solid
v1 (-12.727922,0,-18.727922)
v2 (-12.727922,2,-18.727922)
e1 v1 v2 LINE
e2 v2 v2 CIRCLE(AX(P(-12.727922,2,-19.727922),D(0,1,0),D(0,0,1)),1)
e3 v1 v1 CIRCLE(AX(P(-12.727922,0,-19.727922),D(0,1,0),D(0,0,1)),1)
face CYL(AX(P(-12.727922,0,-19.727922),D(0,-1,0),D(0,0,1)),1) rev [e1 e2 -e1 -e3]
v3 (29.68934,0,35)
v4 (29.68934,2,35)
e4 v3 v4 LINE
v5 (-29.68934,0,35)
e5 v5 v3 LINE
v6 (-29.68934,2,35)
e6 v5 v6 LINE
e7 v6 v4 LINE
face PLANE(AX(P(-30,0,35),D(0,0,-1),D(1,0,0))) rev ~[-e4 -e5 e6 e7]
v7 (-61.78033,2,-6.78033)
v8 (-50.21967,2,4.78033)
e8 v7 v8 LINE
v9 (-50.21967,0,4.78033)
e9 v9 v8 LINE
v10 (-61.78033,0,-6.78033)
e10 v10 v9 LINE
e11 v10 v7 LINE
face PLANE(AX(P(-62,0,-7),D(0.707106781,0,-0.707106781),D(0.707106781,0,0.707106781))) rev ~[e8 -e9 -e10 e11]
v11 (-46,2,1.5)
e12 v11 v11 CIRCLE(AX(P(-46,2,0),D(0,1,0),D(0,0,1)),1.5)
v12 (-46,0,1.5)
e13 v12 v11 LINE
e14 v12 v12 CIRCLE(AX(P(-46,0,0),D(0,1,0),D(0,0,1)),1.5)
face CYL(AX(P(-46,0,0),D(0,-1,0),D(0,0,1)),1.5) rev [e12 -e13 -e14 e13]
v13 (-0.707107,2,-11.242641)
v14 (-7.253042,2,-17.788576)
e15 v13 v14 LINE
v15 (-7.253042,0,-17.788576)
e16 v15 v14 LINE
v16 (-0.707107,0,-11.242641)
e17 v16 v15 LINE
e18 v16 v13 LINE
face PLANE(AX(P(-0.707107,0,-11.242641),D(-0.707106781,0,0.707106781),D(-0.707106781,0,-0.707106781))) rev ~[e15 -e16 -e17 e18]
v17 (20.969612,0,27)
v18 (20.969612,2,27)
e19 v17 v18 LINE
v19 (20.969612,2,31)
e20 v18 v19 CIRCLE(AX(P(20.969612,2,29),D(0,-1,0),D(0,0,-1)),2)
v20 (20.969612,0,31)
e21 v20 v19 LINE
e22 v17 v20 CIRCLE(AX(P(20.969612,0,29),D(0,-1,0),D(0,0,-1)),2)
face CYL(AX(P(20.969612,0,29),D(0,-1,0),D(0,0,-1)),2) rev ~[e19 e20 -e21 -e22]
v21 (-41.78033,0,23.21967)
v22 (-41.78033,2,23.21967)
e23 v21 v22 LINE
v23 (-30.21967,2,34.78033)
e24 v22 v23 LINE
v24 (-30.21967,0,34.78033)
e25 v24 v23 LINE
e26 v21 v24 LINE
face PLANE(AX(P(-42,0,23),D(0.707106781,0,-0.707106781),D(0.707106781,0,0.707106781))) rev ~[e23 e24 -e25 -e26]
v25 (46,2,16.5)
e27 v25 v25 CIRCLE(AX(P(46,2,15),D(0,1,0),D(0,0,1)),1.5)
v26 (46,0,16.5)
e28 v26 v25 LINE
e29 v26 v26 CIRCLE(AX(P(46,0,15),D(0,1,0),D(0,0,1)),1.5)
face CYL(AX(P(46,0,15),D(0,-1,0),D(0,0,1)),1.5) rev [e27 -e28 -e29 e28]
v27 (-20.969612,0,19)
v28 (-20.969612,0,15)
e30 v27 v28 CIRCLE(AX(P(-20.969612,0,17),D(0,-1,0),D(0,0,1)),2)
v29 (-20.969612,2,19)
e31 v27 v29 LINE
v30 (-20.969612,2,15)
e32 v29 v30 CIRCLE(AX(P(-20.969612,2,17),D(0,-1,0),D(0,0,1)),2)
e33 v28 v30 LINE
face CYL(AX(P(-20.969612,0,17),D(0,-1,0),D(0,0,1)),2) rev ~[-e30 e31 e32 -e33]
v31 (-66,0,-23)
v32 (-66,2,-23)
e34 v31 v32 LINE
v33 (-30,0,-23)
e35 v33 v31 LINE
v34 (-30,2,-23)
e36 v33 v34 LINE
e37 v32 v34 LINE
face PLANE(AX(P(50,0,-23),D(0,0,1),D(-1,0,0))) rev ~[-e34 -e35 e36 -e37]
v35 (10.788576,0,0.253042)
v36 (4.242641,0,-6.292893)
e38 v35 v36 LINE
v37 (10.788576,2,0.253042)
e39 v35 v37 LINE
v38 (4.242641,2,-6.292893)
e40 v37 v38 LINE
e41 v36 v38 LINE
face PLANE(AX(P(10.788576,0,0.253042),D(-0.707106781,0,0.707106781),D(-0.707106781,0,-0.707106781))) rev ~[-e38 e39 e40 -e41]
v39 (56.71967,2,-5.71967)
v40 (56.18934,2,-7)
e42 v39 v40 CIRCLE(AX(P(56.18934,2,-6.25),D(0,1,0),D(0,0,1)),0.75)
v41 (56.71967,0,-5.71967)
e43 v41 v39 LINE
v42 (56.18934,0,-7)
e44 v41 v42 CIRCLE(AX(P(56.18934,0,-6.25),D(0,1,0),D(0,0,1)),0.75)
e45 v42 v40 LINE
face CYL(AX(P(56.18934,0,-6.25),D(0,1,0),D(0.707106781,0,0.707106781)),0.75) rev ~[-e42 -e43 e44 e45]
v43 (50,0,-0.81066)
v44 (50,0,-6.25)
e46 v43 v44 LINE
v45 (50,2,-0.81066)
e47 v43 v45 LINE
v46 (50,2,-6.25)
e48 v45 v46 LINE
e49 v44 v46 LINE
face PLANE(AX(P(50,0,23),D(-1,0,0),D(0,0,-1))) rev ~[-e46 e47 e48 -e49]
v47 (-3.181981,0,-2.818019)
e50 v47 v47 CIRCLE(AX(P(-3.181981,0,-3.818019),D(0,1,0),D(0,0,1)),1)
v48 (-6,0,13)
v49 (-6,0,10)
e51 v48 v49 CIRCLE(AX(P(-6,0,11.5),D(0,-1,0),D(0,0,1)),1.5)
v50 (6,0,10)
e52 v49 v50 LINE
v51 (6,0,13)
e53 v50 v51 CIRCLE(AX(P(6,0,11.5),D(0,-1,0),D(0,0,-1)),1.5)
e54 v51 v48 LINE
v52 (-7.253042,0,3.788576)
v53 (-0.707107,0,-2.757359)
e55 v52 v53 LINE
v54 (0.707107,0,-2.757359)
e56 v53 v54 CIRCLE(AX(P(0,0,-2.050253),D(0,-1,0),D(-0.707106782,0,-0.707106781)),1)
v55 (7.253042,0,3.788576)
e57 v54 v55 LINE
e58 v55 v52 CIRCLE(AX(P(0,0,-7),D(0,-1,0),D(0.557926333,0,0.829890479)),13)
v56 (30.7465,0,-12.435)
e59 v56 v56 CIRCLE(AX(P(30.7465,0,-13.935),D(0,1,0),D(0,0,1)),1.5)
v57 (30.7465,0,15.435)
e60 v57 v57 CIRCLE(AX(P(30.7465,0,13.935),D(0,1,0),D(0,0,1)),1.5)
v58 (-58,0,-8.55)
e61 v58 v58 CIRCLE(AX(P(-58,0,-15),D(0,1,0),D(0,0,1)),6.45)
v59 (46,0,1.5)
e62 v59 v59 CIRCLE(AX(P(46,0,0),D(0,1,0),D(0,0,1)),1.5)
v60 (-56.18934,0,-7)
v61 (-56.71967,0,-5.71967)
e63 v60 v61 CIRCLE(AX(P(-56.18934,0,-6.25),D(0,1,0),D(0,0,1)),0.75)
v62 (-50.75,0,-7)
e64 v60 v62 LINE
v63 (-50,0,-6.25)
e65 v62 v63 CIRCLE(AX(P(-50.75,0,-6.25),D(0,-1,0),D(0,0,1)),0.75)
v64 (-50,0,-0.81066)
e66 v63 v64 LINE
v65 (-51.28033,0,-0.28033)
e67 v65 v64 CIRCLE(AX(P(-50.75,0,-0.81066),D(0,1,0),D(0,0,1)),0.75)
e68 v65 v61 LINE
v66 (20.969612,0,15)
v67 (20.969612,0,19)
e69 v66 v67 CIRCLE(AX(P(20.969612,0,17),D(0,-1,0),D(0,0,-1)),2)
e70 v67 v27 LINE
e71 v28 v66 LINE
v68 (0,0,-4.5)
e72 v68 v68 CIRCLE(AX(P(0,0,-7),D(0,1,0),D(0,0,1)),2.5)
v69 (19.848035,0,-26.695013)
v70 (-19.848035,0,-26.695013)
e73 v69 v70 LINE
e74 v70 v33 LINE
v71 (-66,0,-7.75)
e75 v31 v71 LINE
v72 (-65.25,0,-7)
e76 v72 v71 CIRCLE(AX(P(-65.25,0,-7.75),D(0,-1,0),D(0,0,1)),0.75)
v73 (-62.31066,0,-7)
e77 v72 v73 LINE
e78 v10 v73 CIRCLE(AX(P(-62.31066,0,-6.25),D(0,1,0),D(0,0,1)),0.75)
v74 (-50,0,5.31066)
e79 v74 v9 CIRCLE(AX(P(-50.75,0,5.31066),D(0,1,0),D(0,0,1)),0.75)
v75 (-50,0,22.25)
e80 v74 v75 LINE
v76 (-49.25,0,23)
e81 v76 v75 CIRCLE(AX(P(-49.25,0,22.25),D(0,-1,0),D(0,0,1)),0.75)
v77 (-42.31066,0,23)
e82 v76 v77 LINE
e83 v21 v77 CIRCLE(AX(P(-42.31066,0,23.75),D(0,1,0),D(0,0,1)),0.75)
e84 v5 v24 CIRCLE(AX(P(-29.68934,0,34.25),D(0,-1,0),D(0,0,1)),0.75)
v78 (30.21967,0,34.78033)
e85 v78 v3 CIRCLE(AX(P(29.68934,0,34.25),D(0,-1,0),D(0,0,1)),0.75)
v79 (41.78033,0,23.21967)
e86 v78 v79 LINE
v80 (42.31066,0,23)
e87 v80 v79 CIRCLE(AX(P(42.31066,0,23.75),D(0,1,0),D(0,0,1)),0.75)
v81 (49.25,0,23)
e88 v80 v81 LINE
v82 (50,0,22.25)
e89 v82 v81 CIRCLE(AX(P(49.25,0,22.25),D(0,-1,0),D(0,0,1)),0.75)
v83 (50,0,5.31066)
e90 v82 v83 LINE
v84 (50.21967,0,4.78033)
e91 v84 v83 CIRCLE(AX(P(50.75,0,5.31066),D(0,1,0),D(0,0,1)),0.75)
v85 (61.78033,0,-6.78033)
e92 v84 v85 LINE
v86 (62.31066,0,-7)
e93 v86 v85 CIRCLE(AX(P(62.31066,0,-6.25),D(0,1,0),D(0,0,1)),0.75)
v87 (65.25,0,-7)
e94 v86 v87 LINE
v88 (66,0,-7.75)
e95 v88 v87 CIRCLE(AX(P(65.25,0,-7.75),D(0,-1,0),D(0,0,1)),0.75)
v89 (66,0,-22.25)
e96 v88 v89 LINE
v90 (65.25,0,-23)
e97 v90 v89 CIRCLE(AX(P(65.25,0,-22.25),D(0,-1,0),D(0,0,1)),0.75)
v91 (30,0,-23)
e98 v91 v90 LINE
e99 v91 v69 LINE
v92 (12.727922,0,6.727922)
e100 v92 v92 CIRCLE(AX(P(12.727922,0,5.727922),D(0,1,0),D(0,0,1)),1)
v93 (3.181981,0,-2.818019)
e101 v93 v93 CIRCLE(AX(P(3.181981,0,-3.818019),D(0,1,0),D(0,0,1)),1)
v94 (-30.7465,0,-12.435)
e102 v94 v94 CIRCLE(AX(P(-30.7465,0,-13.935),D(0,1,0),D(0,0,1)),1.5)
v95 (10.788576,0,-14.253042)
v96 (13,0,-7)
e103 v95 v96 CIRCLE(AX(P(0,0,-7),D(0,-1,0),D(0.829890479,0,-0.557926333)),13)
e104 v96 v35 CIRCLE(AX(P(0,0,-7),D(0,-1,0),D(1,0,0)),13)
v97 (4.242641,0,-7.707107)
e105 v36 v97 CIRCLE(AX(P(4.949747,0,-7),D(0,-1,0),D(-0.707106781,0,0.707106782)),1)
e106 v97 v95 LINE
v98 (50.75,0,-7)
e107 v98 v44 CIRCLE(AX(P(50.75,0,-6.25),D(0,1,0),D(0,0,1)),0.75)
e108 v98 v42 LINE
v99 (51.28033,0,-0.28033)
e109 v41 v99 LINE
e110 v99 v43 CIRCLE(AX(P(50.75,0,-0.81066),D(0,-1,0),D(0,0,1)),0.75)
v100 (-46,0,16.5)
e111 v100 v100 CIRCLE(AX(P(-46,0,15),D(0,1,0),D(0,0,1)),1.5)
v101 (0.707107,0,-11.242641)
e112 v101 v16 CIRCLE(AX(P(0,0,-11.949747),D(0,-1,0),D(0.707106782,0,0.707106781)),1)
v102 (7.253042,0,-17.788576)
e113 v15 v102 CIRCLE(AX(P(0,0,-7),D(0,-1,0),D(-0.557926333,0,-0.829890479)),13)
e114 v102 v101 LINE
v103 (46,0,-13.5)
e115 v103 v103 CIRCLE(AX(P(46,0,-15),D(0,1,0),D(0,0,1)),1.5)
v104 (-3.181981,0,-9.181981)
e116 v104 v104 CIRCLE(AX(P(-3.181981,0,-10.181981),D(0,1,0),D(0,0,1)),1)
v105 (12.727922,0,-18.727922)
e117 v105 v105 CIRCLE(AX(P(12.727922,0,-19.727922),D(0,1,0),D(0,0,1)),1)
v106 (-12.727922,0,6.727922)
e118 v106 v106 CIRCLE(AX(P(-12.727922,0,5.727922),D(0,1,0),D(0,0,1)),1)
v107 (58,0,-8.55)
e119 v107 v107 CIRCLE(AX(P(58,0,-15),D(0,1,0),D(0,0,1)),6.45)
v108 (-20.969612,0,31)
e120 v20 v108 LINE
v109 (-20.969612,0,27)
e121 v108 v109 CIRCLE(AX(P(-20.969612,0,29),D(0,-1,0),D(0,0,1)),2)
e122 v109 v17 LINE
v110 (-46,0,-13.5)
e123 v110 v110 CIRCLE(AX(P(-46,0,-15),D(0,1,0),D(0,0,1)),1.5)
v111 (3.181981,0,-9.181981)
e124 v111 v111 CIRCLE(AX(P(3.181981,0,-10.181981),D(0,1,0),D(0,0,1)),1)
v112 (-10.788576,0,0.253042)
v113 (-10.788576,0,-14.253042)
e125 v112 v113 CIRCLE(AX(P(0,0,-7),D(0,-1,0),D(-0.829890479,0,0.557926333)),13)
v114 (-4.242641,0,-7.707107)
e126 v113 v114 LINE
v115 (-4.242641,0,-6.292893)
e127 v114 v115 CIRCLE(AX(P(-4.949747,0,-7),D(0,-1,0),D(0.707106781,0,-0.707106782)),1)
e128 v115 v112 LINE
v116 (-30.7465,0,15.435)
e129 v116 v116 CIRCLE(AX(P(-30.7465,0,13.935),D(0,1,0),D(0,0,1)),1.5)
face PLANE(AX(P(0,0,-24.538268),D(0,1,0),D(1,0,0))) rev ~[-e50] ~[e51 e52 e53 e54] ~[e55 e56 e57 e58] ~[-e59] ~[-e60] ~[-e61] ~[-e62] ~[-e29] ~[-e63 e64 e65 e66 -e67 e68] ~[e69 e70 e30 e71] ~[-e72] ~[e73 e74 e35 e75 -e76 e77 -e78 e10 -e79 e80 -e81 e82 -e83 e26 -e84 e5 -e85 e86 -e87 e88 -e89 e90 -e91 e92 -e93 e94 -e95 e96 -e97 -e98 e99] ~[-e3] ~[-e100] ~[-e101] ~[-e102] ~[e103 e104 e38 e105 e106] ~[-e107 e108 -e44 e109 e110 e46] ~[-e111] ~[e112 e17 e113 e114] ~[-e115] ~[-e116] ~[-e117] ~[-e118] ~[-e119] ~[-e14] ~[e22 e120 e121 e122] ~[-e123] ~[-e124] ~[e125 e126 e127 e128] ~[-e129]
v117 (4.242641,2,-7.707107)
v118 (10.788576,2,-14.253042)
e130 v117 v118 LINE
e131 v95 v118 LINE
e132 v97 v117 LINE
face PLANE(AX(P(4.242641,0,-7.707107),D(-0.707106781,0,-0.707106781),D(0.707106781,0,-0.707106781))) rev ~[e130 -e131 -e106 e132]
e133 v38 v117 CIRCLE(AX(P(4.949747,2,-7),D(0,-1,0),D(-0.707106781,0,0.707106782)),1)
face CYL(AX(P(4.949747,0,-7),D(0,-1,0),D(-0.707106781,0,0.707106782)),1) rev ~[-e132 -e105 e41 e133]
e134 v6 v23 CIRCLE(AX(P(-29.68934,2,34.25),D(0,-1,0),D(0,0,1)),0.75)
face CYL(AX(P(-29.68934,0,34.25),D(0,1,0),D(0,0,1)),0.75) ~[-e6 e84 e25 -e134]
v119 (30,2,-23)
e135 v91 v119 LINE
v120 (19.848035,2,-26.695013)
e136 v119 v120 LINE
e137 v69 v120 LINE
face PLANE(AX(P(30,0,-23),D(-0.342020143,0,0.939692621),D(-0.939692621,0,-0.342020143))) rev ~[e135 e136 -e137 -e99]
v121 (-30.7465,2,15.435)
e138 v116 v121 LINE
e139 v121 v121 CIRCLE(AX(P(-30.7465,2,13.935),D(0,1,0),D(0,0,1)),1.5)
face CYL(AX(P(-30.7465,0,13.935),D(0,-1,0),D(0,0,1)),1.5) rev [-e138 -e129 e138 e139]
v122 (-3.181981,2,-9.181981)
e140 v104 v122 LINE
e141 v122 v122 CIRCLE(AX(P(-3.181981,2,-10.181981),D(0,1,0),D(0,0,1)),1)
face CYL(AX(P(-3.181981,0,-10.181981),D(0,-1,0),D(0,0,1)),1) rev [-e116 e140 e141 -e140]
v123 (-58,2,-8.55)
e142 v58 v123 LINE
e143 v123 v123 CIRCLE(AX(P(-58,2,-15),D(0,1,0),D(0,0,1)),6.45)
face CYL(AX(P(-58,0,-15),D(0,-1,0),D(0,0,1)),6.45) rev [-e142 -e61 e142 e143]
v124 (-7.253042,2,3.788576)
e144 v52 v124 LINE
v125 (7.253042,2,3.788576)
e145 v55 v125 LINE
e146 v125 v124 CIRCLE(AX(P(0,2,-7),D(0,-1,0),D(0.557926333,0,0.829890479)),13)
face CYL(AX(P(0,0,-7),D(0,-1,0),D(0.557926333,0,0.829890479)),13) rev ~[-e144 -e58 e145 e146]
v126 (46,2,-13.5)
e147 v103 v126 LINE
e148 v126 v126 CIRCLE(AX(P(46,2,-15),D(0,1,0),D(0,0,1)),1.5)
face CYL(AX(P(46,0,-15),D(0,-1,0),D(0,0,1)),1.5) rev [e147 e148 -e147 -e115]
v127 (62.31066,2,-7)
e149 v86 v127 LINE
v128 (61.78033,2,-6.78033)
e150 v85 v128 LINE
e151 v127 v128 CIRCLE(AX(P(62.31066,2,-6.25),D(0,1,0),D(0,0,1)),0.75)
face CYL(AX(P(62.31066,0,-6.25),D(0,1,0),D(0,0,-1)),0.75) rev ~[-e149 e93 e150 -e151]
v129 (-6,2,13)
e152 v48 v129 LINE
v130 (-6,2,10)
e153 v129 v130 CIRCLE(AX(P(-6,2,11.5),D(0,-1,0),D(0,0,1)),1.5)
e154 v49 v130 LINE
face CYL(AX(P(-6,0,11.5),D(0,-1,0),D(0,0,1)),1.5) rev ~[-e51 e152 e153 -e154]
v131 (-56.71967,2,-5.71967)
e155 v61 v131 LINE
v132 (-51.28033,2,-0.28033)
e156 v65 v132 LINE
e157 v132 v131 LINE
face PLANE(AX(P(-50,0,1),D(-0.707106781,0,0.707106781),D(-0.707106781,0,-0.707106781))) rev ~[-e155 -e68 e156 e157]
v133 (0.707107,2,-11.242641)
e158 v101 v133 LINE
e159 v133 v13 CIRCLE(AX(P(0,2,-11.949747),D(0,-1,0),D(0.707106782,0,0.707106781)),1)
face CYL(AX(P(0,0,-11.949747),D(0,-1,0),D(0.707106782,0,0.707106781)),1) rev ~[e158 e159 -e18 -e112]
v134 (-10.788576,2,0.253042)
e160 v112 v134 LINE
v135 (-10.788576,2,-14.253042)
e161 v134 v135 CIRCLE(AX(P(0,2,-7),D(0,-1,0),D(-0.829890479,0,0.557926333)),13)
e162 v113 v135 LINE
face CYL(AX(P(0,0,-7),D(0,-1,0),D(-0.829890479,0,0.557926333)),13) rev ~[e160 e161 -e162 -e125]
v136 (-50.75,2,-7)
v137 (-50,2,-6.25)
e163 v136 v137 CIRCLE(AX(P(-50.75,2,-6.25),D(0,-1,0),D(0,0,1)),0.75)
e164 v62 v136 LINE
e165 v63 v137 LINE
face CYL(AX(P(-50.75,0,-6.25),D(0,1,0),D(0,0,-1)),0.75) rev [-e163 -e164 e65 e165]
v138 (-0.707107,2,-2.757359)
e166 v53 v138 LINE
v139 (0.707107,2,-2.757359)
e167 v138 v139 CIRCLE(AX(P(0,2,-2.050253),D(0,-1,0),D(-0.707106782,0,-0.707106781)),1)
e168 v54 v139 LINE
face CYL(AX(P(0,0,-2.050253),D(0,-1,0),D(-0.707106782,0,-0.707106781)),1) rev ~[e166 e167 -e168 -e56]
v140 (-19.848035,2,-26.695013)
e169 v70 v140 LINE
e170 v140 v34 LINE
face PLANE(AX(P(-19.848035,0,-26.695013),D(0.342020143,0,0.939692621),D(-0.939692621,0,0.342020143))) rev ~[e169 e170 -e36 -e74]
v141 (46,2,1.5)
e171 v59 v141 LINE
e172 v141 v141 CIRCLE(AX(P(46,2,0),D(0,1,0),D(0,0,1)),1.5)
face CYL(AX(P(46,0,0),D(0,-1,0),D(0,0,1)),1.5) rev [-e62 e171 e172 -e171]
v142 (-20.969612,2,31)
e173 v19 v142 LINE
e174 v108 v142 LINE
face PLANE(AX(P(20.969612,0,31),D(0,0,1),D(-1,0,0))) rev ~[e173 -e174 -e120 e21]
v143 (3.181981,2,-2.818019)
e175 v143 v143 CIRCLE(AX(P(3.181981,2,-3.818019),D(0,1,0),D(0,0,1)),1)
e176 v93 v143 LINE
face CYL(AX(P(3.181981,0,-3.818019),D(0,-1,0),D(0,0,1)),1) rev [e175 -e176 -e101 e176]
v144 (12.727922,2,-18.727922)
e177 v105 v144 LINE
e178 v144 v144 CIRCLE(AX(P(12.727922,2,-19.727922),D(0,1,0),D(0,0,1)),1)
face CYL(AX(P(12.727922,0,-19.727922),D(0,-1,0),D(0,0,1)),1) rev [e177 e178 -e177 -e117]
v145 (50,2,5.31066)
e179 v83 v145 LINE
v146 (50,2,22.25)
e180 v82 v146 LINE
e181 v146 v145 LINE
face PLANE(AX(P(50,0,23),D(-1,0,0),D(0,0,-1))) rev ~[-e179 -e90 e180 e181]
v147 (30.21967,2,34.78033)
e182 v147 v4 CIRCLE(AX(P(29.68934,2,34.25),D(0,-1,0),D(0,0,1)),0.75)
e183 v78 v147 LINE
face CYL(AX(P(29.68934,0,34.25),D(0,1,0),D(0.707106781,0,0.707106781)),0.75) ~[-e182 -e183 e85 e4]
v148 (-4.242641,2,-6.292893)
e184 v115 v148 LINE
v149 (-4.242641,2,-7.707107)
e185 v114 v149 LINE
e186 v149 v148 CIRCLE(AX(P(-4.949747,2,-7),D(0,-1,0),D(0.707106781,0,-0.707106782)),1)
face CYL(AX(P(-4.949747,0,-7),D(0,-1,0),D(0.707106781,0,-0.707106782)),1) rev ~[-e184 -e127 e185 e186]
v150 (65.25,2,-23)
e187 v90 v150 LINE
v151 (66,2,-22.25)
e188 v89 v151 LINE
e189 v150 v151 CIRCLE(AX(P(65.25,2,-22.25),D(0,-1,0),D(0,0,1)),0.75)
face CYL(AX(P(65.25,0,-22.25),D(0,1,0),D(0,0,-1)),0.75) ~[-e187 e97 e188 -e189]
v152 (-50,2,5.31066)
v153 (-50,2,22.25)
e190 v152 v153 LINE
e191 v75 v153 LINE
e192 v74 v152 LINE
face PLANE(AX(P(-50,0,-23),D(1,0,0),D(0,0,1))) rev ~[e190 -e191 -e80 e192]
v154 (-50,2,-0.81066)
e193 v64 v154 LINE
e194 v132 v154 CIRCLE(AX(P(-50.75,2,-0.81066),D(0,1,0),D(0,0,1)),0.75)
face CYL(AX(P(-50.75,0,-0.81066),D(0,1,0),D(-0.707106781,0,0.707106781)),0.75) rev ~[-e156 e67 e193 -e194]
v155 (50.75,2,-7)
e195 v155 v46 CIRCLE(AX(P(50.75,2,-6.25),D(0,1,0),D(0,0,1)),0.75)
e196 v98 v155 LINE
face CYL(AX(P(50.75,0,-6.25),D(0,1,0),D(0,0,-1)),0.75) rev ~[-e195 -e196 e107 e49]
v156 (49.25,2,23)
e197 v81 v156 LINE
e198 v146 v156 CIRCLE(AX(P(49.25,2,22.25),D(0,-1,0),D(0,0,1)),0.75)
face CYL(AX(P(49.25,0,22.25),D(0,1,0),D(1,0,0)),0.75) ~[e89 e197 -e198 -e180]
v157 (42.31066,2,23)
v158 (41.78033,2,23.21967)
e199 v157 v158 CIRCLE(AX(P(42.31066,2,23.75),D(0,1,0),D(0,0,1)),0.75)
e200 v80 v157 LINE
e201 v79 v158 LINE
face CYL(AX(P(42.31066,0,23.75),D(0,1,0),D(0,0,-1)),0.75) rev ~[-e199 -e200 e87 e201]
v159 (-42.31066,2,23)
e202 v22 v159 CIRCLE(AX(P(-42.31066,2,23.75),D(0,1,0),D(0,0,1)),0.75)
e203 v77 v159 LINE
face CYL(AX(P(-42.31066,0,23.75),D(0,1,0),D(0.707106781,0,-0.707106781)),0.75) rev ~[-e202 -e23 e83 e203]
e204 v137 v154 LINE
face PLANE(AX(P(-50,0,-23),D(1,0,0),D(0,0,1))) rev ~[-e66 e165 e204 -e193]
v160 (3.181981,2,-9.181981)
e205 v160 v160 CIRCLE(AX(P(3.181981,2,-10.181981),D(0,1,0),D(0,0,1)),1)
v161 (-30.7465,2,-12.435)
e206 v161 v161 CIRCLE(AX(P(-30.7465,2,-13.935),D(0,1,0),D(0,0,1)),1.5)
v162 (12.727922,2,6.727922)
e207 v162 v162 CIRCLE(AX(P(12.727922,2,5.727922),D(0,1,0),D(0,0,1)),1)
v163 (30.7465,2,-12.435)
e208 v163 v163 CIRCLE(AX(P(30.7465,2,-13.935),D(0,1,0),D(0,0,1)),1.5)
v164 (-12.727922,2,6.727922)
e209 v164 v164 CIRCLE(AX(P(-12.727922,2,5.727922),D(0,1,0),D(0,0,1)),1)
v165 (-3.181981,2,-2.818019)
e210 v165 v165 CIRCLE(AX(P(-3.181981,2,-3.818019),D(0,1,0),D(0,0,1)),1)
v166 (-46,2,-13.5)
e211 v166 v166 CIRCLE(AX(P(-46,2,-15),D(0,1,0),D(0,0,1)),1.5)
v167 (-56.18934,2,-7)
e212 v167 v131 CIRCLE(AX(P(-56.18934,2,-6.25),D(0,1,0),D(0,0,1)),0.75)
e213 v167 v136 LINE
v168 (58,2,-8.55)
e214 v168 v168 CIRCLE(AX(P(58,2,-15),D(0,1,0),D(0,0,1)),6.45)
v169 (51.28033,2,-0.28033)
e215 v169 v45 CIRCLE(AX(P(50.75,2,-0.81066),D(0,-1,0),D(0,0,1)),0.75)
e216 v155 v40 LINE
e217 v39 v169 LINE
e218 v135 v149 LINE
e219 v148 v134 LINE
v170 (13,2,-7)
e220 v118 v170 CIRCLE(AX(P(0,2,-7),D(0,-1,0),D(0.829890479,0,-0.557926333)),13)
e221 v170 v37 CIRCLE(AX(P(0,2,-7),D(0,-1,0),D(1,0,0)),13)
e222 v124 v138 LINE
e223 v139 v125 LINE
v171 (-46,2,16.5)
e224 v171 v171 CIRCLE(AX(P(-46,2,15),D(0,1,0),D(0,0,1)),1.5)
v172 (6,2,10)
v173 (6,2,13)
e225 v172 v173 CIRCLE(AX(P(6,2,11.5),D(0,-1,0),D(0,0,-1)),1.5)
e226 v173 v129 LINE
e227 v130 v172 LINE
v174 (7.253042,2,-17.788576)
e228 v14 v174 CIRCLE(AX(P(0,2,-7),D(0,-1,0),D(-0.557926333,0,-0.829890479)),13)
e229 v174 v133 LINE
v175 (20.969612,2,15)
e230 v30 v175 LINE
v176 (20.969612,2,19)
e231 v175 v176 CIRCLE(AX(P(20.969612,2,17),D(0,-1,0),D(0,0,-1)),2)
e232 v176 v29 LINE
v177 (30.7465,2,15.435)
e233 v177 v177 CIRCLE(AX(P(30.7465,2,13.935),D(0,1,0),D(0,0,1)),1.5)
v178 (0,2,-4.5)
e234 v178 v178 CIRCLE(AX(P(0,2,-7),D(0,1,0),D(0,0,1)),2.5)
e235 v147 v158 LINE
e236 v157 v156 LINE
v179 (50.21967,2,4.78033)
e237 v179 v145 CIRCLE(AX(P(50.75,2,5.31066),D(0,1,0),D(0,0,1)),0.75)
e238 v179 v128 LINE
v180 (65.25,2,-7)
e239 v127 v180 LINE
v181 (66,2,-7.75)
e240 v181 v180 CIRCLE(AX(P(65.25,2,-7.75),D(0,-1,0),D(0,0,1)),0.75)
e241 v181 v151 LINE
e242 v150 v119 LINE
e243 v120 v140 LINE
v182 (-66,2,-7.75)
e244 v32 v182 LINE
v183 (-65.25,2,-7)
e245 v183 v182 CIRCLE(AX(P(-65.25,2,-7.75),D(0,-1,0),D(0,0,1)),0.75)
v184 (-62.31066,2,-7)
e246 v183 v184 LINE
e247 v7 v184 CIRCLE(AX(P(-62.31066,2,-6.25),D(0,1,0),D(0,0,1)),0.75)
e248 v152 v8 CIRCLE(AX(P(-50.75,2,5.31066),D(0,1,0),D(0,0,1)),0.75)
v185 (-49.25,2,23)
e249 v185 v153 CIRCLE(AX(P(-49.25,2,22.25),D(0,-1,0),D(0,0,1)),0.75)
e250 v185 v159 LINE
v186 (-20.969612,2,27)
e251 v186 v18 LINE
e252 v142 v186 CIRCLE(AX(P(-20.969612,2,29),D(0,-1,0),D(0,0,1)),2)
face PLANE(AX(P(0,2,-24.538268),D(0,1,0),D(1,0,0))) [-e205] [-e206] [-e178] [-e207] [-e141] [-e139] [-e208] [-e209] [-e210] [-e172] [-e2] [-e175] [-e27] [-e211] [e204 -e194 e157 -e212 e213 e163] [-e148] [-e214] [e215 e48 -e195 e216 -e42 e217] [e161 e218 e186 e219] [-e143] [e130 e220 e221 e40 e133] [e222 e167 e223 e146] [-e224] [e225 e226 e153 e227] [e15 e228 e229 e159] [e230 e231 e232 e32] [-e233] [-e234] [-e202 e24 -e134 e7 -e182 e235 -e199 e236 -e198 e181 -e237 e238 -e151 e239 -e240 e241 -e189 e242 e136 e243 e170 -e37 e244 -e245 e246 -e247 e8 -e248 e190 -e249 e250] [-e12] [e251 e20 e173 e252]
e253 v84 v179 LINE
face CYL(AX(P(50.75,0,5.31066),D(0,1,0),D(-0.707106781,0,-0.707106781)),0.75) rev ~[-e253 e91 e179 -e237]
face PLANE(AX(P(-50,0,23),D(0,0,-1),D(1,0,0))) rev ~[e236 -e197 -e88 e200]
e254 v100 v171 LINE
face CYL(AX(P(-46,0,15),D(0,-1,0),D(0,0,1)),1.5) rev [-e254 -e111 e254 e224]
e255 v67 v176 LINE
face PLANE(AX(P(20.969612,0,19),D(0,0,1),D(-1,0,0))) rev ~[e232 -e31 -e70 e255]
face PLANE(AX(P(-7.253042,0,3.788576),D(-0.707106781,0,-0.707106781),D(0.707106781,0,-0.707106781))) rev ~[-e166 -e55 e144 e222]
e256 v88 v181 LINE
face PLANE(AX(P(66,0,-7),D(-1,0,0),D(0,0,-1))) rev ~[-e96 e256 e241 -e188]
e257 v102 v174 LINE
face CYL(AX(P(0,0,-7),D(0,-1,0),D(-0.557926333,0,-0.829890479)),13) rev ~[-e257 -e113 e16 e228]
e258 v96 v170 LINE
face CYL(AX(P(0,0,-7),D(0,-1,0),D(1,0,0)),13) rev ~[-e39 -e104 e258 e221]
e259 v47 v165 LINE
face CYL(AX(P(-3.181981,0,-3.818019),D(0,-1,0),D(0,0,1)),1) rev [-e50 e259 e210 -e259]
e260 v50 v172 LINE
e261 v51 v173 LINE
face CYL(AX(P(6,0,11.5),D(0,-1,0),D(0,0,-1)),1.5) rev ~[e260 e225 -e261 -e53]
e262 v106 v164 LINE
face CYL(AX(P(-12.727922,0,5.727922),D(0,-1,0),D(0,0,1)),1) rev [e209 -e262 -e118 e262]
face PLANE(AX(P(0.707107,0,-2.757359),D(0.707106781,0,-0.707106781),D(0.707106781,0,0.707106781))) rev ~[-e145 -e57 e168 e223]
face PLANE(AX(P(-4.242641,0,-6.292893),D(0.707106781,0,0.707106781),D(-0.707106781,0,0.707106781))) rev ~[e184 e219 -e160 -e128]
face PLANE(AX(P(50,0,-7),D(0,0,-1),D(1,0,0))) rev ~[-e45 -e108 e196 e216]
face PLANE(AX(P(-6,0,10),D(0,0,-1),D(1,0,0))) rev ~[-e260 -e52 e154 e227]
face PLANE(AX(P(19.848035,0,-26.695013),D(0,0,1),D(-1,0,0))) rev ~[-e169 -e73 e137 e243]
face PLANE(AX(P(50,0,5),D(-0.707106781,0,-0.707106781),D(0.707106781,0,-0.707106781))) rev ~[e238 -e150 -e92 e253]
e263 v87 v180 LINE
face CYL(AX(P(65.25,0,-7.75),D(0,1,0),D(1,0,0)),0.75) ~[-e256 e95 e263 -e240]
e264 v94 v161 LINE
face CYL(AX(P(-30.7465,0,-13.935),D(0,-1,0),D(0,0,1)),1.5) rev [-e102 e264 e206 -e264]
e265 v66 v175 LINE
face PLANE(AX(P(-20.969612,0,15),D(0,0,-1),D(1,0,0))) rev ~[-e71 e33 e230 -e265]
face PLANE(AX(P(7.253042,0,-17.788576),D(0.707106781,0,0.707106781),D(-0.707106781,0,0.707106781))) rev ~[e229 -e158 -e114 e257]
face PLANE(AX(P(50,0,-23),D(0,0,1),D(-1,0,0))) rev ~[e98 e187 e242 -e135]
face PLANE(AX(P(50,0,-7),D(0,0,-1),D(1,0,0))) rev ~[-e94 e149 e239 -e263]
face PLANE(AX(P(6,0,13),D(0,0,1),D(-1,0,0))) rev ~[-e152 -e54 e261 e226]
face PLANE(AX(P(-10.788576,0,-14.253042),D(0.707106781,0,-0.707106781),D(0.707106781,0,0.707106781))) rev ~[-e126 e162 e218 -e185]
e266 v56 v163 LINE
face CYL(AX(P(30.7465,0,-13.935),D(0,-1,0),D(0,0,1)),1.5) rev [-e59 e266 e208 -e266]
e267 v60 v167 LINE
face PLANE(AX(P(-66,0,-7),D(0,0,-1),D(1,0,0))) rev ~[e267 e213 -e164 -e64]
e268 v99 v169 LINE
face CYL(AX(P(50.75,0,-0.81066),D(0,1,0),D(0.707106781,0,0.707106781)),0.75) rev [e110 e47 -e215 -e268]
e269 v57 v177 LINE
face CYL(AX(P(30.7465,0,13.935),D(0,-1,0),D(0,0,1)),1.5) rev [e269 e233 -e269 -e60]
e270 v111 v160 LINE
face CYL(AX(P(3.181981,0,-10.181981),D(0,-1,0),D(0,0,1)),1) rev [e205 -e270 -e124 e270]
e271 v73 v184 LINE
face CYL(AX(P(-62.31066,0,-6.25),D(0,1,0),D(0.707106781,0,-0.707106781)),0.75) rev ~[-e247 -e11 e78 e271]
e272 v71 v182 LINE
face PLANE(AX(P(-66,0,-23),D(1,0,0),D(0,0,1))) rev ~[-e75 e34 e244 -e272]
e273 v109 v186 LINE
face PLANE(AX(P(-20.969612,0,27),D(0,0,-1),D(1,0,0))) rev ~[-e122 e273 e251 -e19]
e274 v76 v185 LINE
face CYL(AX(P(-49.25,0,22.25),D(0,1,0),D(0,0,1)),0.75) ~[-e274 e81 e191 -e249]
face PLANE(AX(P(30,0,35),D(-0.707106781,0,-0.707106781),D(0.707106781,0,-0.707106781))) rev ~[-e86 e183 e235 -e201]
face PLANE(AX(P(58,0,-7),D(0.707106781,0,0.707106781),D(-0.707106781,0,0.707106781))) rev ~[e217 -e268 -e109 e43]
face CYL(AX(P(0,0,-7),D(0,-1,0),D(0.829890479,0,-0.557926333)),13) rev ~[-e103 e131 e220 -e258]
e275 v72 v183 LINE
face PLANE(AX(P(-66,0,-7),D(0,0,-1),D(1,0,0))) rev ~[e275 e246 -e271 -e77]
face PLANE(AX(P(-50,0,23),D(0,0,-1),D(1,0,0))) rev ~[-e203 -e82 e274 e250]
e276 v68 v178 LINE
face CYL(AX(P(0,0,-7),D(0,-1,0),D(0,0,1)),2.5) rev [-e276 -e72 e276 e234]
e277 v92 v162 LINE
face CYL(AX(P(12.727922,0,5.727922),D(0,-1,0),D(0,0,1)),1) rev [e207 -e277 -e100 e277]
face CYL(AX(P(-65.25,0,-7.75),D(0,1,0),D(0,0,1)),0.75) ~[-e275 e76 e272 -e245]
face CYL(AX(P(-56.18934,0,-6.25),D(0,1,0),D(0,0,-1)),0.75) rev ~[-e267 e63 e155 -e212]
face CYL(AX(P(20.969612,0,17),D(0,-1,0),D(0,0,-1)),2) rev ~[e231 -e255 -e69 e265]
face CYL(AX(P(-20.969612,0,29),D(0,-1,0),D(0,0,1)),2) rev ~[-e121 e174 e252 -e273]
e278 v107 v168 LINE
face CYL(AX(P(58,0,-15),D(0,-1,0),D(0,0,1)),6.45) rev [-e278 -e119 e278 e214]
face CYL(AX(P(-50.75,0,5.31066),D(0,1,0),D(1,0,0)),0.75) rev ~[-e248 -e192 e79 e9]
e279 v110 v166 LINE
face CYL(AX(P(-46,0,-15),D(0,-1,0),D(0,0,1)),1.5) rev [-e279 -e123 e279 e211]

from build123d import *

# Parameters (mm, degrees)
SKETCH_1_R      = 1.5
SKETCH_1_R_2    = 1
SKETCH_1_R_3    = 15
SKETCH_1_R_4    = 2.5
SKETCH_1_R_5    = 6.45
EXTRUDE_1_DEPTH = 2
FILLET_1_R      = 0.75


with BuildPart() as part:
    # 草图1 → 凸台-拉伸1 (new body)
    # profile 1 of 11: a face of its own
    with BuildSketch(Plane(origin=(0, 0, 0), x_dir=(1, 0, 0), z_dir=(0, 1, 0))):
        Polygon((-19.848034865, 26.695013128), (-30, 23), (30, 23), (19.848034865, 26.695013128), (0.026493373, 26.695013128), (-0.026493373, 26.695013128), align=None)
    # profile 2 of 11: a face of its own
    with BuildSketch(Plane(origin=(0, 0, 0), x_dir=(1, 0, 0), z_dir=(0, 1, 0))):
        Polygon((-19.848034865, 26.695013128), (-30, 23), (30, 23), (19.848034865, 26.695013128), (0.026493373, 26.695013128), (-0.026493373, 26.695013128), align=None)
    # profile 3 of 11: a face of its own
    with BuildSketch(Plane(origin=(0, 0, 0), x_dir=(1, 0, 0), z_dir=(0, 1, 0))):
        Polygon((-30, 23), (-50, 23), (-50, 7), (-50, -1), (-50, -5), (-50, -23), (-42, -23), (42, -23), (50, -23), (50, -5), (50, -1), (50, 7), (50, 23), (30, 23), align=None)
        with Locations(Location((-46, -15, 0), (0, 0, 270))):
            Circle(SKETCH_1_R, mode=Mode.SUBTRACT)
        with Locations(Location((-30.7465, -13.935, 0), (0, 0, 270))):
            Circle(SKETCH_1_R, mode=Mode.SUBTRACT)
        with Locations(Location((-12.727922061, -5.727922061, 0), (0, 0, 270))):
            Circle(SKETCH_1_R_2, mode=Mode.SUBTRACT)
        with BuildLine():
            ThreePointArc((-20.969611628, -19), (-22.969611628, -17), (-20.969611628, -15))
            Line((-20.969611628, -15), (20.969611628, -15))
            ThreePointArc((20.969611628, -15), (22.969611628, -17), (20.969611628, -19))
            Line((20.969611628, -19), (-20.969611628, -19))
        make_face(mode=Mode.SUBTRACT)
        with Locations(Location((30.7465, -13.935, 0), (0, 0, 270))):
            Circle(SKETCH_1_R, mode=Mode.SUBTRACT)
        with BuildLine():
            ThreePointArc((-6, -13), (-7.5, -11.5), (-6, -10))
            Line((-6, -10), (6, -10))
            ThreePointArc((6, -10), (7.5, -11.5), (6, -13))
            Line((6, -13), (-6, -13))
        make_face(mode=Mode.SUBTRACT)
        with Locations(Location((12.727922061, -5.727922061, 0), (0, 0, 270))):
            Circle(SKETCH_1_R_2, mode=Mode.SUBTRACT)
        with Locations(Location((46, -15, 0), (0, 0, 270))):
            Circle(SKETCH_1_R, mode=Mode.SUBTRACT)
        with Locations(Location((-46, 0, 0), (0, 0, 270))):
            Circle(SKETCH_1_R, mode=Mode.SUBTRACT)
        with Locations(Location((-46, 15, 0), (0, 0, 270))):
            Circle(SKETCH_1_R, mode=Mode.SUBTRACT)
        with Locations(Location((-30.7465, 13.935, 0), (0, 0, 270))):
            Circle(SKETCH_1_R, mode=Mode.SUBTRACT)
        with Locations(Location((-12.727922061, 19.727922061, 0), (0, 0, 270))):
            Circle(SKETCH_1_R_2, mode=Mode.SUBTRACT)
        with Locations((0, 7)):
            Circle(SKETCH_1_R_3, mode=Mode.SUBTRACT)
        with Locations(Location((46, 0, 0), (0, 0, 270))):
            Circle(SKETCH_1_R, mode=Mode.SUBTRACT)
        with Locations(Location((30.7465, 13.935, 0), (0, 0, 270))):
            Circle(SKETCH_1_R, mode=Mode.SUBTRACT)
        with Locations(Location((12.727922061, 19.727922061, 0), (0, 0, 270))):
            Circle(SKETCH_1_R_2, mode=Mode.SUBTRACT)
        with Locations(Location((46, 15, 0), (0, 0, 270))):
            Circle(SKETCH_1_R, mode=Mode.SUBTRACT)
    # profile 4 of 11: a face of its own
    with BuildSketch(Plane(origin=(0, 0, 0), x_dir=(1, 0, 0), z_dir=(0, 1, 0))):
        Polygon((-30, 23), (-50, 23), (-50, 7), (-50, -1), (-50, -5), (-50, -23), (-42, -23), (42, -23), (50, -23), (50, -5), (50, -1), (50, 7), (50, 23), (30, 23), align=None)
        with Locations(Location((-46, -15, 0), (0, 0, 270))):
            Circle(SKETCH_1_R, mode=Mode.SUBTRACT)
        with Locations(Location((-30.7465, -13.935, 0), (0, 0, 270))):
            Circle(SKETCH_1_R, mode=Mode.SUBTRACT)
        with Locations(Location((-12.727922061, -5.727922061, 0), (0, 0, 270))):
            Circle(SKETCH_1_R_2, mode=Mode.SUBTRACT)
        with BuildLine():
            ThreePointArc((-20.969611628, -19), (-22.969611628, -17), (-20.969611628, -15))
            Line((-20.969611628, -15), (20.969611628, -15))
            ThreePointArc((20.969611628, -15), (22.969611628, -17), (20.969611628, -19))
            Line((20.969611628, -19), (-20.969611628, -19))
        make_face(mode=Mode.SUBTRACT)
        with Locations(Location((30.7465, -13.935, 0), (0, 0, 270))):
            Circle(SKETCH_1_R, mode=Mode.SUBTRACT)
        with BuildLine():
            ThreePointArc((-6, -13), (-7.5, -11.5), (-6, -10))
            Line((-6, -10), (6, -10))
            ThreePointArc((6, -10), (7.5, -11.5), (6, -13))
            Line((6, -13), (-6, -13))
        make_face(mode=Mode.SUBTRACT)
        with Locations(Location((12.727922061, -5.727922061, 0), (0, 0, 270))):
            Circle(SKETCH_1_R_2, mode=Mode.SUBTRACT)
        with Locations(Location((46, -15, 0), (0, 0, 270))):
            Circle(SKETCH_1_R, mode=Mode.SUBTRACT)
        with Locations(Location((-46, 0, 0), (0, 0, 270))):
            Circle(SKETCH_1_R, mode=Mode.SUBTRACT)
        with Locations(Location((-46, 15, 0), (0, 0, 270))):
            Circle(SKETCH_1_R, mode=Mode.SUBTRACT)
        with Locations(Location((-30.7465, 13.935, 0), (0, 0, 270))):
            Circle(SKETCH_1_R, mode=Mode.SUBTRACT)
        with Locations(Location((-12.727922061, 19.727922061, 0), (0, 0, 270))):
            Circle(SKETCH_1_R_2, mode=Mode.SUBTRACT)
        with Locations((0, 7)):
            Circle(SKETCH_1_R_3, mode=Mode.SUBTRACT)
        with Locations(Location((46, 0, 0), (0, 0, 270))):
            Circle(SKETCH_1_R, mode=Mode.SUBTRACT)
        with Locations(Location((30.7465, 13.935, 0), (0, 0, 270))):
            Circle(SKETCH_1_R, mode=Mode.SUBTRACT)
        with Locations(Location((12.727922061, 19.727922061, 0), (0, 0, 270))):
            Circle(SKETCH_1_R_2, mode=Mode.SUBTRACT)
        with Locations(Location((46, 15, 0), (0, 0, 270))):
            Circle(SKETCH_1_R, mode=Mode.SUBTRACT)
    # profile 5 of 11: a face of its own
    with BuildSketch(Plane(origin=(0, 0, 0), x_dir=(1, 0, 0), z_dir=(0, 1, 0))):
        with Locations((0, 7)):
            Circle(SKETCH_1_R_3)
        with BuildLine():
            ThreePointArc((13, 7), (12.434860091, 3.208660592), (10.788576229, -0.253042323))
            ThreePointArc((10.788576229, -0.253042323), (9.192388155, -2.192388155), (7.253042323, -3.788576229))
            ThreePointArc((7.253042323, -3.788576229), (0, -6), (-7.253042323, -3.788576229))
            ThreePointArc((-7.253042323, -3.788576229), (-9.192388155, -2.192388155), (-10.788576229, -0.253042323))
            ThreePointArc((-10.788576229, -0.253042323), (-13, 7), (-10.788576229, 14.253042323))
            ThreePointArc((-10.788576229, 14.253042323), (-9.192388155, 16.192388155), (-7.253042323, 17.788576229))
            ThreePointArc((-7.253042323, 17.788576229), (0, 20), (7.253042323, 17.788576229))
            ThreePointArc((7.253042323, 17.788576229), (9.192388155, 16.192388155), (10.788576229, 14.253042323))
            ThreePointArc((10.788576229, 14.253042323), (12.434860091, 10.791339408), (13, 7))
        make_face(mode=Mode.SUBTRACT)
    # profile 6 of 11: a face of its own
    with BuildSketch(Plane(origin=(0, 0, 0), x_dir=(1, 0, 0), z_dir=(0, 1, 0))):
        with BuildLine():
            ThreePointArc((7.253042323, -3.788576229), (9.192388155, -2.192388155), (10.788576229, -0.253042323))
            Line((10.788576229, -0.253042323), (4.242640687, 6.292893219))
            ThreePointArc((4.242640687, 6.292893219), (3.949747468, 7), (4.242640687, 7.707106781))
            Line((4.242640687, 7.707106781), (10.788576229, 14.253042323))
            ThreePointArc((10.788576229, 14.253042323), (9.192388155, 16.192388155), (7.253042323, 17.788576229))
            Line((7.253042323, 17.788576229), (0.707106781, 11.242640687))
            ThreePointArc((0.707106781, 11.242640687), (0, 10.949747468), (-0.707106781, 11.242640687))
            Line((-0.707106781, 11.242640687), (-7.253042323, 17.788576229))
            ThreePointArc((-7.253042323, 17.788576229), (-9.192388155, 16.192388155), (-10.788576229, 14.253042323))
            Line((-10.788576229, 14.253042323), (-4.242640687, 7.707106781))
            ThreePointArc((-4.242640687, 7.707106781), (-3.949747468, 7), (-4.242640687, 6.292893219))
            Line((-4.242640687, 6.292893219), (-10.788576229, -0.253042323))
            ThreePointArc((-10.788576229, -0.253042323), (-9.192388155, -2.192388155), (-7.253042323, -3.788576229))
            Line((-7.253042323, -3.788576229), (-0.707106781, 2.757359313))
            ThreePointArc((-0.707106781, 2.757359313), (0, 3.050252532), (0.707106781, 2.757359313))
            Line((0.707106781, 2.757359313), (7.253042323, -3.788576229))
        make_face()
        with Locations(Location((-3.181980515, 3.818019485, 0), (0, 0, 270))):
            Circle(SKETCH_1_R_2, mode=Mode.SUBTRACT)
        with Locations(Location((-3.181980515, 10.181980515, 0), (0, 0, 270))):
            Circle(SKETCH_1_R_2, mode=Mode.SUBTRACT)
        with Locations(Location((3.181980515, 3.818019485, 0), (0, 0, 270))):
            Circle(SKETCH_1_R_2, mode=Mode.SUBTRACT)
        with Locations(Location((0, 7, 0), (0, 0, 270))):
            Circle(SKETCH_1_R_4, mode=Mode.SUBTRACT)
        with Locations(Location((3.181980515, 10.181980515, 0), (0, 0, 270))):
            Circle(SKETCH_1_R_2, mode=Mode.SUBTRACT)
    # profile 7 of 11: a face of its own
    with BuildSketch(Plane(origin=(0, 0, 0), x_dir=(1, 0, 0), z_dir=(0, 1, 0))):
        Polygon((42, -23), (-42, -23), (-30, -35), (30, -35), align=None)
        with BuildLine():
            ThreePointArc((-20.969611628, -31), (-22.969611628, -29), (-20.969611628, -27))
            Line((-20.969611628, -27), (20.969611628, -27))
            ThreePointArc((20.969611628, -27), (22.969611628, -29), (20.969611628, -31))
            Line((20.969611628, -31), (-20.969611628, -31))
        make_face(mode=Mode.SUBTRACT)
    # profile 8 of 11: a face of its own
    with BuildSketch(Plane(origin=(0, 0, 0), x_dir=(1, 0, 0), z_dir=(0, 1, 0))):
        Polygon((-50, -5), (-50, -1), (-58, 7), (-62, 7), align=None)
    # profile 9 of 11: a face of its own
    with BuildSketch(Plane(origin=(0, 0, 0), x_dir=(1, 0, 0), z_dir=(0, 1, 0))):
        Polygon((-50, 7), (-50, 23), (-66, 23), (-66, 7), (-62, 7), (-58, 7), align=None)
        with Locations(Location((-58, 15, 0), (0, 0, 270))):
            Circle(SKETCH_1_R_5, mode=Mode.SUBTRACT)
    # profile 10 of 11: a face of its own
    with BuildSketch(Plane(origin=(0, 0, 0), x_dir=(1, 0, 0), z_dir=(0, 1, 0))):
        Polygon((66, 23), (50, 23), (50, 7), (58, 7), (62, 7), (66, 7), align=None)
        with Locations(Location((58, 15, 0), (0, 0, 270))):
            Circle(SKETCH_1_R_5, mode=Mode.SUBTRACT)
    # profile 11 of 11: a face of its own
    with BuildSketch(Plane(origin=(0, 0, 0), x_dir=(1, 0, 0), z_dir=(0, 1, 0))):
        Polygon((58, 7), (50, -1), (50, -5), (62, 7), align=None)
    extrude(amount=EXTRUDE_1_DEPTH)

    # 圆角1
    fillet_1_edges = [part.edges().sort_by_distance(p)[0] for p in [
        (66, 1, -23),
        (66, 1, -7),
        (62, 1, -7),
        (50, 1, 5),
        (50, 1, 23),
        (42, 1, 23),
        (30, 1, 35),
        (-30, 1, 35),
        (-42, 1, 23),
        (-50, 1, 23),
        (-50, 1, 5),
        (-62, 1, -7),
        (-66, 1, -7),
        (50, 1, -7),
        (50, 1, 1),
        (58, 1, -7),
        (-50, 1, 1),
        (-50, 1, -7),
        (-58, 1, -7),
    ]]
    fillet(fillet_1_edges, radius=FILLET_1_R)


solid = part.part
